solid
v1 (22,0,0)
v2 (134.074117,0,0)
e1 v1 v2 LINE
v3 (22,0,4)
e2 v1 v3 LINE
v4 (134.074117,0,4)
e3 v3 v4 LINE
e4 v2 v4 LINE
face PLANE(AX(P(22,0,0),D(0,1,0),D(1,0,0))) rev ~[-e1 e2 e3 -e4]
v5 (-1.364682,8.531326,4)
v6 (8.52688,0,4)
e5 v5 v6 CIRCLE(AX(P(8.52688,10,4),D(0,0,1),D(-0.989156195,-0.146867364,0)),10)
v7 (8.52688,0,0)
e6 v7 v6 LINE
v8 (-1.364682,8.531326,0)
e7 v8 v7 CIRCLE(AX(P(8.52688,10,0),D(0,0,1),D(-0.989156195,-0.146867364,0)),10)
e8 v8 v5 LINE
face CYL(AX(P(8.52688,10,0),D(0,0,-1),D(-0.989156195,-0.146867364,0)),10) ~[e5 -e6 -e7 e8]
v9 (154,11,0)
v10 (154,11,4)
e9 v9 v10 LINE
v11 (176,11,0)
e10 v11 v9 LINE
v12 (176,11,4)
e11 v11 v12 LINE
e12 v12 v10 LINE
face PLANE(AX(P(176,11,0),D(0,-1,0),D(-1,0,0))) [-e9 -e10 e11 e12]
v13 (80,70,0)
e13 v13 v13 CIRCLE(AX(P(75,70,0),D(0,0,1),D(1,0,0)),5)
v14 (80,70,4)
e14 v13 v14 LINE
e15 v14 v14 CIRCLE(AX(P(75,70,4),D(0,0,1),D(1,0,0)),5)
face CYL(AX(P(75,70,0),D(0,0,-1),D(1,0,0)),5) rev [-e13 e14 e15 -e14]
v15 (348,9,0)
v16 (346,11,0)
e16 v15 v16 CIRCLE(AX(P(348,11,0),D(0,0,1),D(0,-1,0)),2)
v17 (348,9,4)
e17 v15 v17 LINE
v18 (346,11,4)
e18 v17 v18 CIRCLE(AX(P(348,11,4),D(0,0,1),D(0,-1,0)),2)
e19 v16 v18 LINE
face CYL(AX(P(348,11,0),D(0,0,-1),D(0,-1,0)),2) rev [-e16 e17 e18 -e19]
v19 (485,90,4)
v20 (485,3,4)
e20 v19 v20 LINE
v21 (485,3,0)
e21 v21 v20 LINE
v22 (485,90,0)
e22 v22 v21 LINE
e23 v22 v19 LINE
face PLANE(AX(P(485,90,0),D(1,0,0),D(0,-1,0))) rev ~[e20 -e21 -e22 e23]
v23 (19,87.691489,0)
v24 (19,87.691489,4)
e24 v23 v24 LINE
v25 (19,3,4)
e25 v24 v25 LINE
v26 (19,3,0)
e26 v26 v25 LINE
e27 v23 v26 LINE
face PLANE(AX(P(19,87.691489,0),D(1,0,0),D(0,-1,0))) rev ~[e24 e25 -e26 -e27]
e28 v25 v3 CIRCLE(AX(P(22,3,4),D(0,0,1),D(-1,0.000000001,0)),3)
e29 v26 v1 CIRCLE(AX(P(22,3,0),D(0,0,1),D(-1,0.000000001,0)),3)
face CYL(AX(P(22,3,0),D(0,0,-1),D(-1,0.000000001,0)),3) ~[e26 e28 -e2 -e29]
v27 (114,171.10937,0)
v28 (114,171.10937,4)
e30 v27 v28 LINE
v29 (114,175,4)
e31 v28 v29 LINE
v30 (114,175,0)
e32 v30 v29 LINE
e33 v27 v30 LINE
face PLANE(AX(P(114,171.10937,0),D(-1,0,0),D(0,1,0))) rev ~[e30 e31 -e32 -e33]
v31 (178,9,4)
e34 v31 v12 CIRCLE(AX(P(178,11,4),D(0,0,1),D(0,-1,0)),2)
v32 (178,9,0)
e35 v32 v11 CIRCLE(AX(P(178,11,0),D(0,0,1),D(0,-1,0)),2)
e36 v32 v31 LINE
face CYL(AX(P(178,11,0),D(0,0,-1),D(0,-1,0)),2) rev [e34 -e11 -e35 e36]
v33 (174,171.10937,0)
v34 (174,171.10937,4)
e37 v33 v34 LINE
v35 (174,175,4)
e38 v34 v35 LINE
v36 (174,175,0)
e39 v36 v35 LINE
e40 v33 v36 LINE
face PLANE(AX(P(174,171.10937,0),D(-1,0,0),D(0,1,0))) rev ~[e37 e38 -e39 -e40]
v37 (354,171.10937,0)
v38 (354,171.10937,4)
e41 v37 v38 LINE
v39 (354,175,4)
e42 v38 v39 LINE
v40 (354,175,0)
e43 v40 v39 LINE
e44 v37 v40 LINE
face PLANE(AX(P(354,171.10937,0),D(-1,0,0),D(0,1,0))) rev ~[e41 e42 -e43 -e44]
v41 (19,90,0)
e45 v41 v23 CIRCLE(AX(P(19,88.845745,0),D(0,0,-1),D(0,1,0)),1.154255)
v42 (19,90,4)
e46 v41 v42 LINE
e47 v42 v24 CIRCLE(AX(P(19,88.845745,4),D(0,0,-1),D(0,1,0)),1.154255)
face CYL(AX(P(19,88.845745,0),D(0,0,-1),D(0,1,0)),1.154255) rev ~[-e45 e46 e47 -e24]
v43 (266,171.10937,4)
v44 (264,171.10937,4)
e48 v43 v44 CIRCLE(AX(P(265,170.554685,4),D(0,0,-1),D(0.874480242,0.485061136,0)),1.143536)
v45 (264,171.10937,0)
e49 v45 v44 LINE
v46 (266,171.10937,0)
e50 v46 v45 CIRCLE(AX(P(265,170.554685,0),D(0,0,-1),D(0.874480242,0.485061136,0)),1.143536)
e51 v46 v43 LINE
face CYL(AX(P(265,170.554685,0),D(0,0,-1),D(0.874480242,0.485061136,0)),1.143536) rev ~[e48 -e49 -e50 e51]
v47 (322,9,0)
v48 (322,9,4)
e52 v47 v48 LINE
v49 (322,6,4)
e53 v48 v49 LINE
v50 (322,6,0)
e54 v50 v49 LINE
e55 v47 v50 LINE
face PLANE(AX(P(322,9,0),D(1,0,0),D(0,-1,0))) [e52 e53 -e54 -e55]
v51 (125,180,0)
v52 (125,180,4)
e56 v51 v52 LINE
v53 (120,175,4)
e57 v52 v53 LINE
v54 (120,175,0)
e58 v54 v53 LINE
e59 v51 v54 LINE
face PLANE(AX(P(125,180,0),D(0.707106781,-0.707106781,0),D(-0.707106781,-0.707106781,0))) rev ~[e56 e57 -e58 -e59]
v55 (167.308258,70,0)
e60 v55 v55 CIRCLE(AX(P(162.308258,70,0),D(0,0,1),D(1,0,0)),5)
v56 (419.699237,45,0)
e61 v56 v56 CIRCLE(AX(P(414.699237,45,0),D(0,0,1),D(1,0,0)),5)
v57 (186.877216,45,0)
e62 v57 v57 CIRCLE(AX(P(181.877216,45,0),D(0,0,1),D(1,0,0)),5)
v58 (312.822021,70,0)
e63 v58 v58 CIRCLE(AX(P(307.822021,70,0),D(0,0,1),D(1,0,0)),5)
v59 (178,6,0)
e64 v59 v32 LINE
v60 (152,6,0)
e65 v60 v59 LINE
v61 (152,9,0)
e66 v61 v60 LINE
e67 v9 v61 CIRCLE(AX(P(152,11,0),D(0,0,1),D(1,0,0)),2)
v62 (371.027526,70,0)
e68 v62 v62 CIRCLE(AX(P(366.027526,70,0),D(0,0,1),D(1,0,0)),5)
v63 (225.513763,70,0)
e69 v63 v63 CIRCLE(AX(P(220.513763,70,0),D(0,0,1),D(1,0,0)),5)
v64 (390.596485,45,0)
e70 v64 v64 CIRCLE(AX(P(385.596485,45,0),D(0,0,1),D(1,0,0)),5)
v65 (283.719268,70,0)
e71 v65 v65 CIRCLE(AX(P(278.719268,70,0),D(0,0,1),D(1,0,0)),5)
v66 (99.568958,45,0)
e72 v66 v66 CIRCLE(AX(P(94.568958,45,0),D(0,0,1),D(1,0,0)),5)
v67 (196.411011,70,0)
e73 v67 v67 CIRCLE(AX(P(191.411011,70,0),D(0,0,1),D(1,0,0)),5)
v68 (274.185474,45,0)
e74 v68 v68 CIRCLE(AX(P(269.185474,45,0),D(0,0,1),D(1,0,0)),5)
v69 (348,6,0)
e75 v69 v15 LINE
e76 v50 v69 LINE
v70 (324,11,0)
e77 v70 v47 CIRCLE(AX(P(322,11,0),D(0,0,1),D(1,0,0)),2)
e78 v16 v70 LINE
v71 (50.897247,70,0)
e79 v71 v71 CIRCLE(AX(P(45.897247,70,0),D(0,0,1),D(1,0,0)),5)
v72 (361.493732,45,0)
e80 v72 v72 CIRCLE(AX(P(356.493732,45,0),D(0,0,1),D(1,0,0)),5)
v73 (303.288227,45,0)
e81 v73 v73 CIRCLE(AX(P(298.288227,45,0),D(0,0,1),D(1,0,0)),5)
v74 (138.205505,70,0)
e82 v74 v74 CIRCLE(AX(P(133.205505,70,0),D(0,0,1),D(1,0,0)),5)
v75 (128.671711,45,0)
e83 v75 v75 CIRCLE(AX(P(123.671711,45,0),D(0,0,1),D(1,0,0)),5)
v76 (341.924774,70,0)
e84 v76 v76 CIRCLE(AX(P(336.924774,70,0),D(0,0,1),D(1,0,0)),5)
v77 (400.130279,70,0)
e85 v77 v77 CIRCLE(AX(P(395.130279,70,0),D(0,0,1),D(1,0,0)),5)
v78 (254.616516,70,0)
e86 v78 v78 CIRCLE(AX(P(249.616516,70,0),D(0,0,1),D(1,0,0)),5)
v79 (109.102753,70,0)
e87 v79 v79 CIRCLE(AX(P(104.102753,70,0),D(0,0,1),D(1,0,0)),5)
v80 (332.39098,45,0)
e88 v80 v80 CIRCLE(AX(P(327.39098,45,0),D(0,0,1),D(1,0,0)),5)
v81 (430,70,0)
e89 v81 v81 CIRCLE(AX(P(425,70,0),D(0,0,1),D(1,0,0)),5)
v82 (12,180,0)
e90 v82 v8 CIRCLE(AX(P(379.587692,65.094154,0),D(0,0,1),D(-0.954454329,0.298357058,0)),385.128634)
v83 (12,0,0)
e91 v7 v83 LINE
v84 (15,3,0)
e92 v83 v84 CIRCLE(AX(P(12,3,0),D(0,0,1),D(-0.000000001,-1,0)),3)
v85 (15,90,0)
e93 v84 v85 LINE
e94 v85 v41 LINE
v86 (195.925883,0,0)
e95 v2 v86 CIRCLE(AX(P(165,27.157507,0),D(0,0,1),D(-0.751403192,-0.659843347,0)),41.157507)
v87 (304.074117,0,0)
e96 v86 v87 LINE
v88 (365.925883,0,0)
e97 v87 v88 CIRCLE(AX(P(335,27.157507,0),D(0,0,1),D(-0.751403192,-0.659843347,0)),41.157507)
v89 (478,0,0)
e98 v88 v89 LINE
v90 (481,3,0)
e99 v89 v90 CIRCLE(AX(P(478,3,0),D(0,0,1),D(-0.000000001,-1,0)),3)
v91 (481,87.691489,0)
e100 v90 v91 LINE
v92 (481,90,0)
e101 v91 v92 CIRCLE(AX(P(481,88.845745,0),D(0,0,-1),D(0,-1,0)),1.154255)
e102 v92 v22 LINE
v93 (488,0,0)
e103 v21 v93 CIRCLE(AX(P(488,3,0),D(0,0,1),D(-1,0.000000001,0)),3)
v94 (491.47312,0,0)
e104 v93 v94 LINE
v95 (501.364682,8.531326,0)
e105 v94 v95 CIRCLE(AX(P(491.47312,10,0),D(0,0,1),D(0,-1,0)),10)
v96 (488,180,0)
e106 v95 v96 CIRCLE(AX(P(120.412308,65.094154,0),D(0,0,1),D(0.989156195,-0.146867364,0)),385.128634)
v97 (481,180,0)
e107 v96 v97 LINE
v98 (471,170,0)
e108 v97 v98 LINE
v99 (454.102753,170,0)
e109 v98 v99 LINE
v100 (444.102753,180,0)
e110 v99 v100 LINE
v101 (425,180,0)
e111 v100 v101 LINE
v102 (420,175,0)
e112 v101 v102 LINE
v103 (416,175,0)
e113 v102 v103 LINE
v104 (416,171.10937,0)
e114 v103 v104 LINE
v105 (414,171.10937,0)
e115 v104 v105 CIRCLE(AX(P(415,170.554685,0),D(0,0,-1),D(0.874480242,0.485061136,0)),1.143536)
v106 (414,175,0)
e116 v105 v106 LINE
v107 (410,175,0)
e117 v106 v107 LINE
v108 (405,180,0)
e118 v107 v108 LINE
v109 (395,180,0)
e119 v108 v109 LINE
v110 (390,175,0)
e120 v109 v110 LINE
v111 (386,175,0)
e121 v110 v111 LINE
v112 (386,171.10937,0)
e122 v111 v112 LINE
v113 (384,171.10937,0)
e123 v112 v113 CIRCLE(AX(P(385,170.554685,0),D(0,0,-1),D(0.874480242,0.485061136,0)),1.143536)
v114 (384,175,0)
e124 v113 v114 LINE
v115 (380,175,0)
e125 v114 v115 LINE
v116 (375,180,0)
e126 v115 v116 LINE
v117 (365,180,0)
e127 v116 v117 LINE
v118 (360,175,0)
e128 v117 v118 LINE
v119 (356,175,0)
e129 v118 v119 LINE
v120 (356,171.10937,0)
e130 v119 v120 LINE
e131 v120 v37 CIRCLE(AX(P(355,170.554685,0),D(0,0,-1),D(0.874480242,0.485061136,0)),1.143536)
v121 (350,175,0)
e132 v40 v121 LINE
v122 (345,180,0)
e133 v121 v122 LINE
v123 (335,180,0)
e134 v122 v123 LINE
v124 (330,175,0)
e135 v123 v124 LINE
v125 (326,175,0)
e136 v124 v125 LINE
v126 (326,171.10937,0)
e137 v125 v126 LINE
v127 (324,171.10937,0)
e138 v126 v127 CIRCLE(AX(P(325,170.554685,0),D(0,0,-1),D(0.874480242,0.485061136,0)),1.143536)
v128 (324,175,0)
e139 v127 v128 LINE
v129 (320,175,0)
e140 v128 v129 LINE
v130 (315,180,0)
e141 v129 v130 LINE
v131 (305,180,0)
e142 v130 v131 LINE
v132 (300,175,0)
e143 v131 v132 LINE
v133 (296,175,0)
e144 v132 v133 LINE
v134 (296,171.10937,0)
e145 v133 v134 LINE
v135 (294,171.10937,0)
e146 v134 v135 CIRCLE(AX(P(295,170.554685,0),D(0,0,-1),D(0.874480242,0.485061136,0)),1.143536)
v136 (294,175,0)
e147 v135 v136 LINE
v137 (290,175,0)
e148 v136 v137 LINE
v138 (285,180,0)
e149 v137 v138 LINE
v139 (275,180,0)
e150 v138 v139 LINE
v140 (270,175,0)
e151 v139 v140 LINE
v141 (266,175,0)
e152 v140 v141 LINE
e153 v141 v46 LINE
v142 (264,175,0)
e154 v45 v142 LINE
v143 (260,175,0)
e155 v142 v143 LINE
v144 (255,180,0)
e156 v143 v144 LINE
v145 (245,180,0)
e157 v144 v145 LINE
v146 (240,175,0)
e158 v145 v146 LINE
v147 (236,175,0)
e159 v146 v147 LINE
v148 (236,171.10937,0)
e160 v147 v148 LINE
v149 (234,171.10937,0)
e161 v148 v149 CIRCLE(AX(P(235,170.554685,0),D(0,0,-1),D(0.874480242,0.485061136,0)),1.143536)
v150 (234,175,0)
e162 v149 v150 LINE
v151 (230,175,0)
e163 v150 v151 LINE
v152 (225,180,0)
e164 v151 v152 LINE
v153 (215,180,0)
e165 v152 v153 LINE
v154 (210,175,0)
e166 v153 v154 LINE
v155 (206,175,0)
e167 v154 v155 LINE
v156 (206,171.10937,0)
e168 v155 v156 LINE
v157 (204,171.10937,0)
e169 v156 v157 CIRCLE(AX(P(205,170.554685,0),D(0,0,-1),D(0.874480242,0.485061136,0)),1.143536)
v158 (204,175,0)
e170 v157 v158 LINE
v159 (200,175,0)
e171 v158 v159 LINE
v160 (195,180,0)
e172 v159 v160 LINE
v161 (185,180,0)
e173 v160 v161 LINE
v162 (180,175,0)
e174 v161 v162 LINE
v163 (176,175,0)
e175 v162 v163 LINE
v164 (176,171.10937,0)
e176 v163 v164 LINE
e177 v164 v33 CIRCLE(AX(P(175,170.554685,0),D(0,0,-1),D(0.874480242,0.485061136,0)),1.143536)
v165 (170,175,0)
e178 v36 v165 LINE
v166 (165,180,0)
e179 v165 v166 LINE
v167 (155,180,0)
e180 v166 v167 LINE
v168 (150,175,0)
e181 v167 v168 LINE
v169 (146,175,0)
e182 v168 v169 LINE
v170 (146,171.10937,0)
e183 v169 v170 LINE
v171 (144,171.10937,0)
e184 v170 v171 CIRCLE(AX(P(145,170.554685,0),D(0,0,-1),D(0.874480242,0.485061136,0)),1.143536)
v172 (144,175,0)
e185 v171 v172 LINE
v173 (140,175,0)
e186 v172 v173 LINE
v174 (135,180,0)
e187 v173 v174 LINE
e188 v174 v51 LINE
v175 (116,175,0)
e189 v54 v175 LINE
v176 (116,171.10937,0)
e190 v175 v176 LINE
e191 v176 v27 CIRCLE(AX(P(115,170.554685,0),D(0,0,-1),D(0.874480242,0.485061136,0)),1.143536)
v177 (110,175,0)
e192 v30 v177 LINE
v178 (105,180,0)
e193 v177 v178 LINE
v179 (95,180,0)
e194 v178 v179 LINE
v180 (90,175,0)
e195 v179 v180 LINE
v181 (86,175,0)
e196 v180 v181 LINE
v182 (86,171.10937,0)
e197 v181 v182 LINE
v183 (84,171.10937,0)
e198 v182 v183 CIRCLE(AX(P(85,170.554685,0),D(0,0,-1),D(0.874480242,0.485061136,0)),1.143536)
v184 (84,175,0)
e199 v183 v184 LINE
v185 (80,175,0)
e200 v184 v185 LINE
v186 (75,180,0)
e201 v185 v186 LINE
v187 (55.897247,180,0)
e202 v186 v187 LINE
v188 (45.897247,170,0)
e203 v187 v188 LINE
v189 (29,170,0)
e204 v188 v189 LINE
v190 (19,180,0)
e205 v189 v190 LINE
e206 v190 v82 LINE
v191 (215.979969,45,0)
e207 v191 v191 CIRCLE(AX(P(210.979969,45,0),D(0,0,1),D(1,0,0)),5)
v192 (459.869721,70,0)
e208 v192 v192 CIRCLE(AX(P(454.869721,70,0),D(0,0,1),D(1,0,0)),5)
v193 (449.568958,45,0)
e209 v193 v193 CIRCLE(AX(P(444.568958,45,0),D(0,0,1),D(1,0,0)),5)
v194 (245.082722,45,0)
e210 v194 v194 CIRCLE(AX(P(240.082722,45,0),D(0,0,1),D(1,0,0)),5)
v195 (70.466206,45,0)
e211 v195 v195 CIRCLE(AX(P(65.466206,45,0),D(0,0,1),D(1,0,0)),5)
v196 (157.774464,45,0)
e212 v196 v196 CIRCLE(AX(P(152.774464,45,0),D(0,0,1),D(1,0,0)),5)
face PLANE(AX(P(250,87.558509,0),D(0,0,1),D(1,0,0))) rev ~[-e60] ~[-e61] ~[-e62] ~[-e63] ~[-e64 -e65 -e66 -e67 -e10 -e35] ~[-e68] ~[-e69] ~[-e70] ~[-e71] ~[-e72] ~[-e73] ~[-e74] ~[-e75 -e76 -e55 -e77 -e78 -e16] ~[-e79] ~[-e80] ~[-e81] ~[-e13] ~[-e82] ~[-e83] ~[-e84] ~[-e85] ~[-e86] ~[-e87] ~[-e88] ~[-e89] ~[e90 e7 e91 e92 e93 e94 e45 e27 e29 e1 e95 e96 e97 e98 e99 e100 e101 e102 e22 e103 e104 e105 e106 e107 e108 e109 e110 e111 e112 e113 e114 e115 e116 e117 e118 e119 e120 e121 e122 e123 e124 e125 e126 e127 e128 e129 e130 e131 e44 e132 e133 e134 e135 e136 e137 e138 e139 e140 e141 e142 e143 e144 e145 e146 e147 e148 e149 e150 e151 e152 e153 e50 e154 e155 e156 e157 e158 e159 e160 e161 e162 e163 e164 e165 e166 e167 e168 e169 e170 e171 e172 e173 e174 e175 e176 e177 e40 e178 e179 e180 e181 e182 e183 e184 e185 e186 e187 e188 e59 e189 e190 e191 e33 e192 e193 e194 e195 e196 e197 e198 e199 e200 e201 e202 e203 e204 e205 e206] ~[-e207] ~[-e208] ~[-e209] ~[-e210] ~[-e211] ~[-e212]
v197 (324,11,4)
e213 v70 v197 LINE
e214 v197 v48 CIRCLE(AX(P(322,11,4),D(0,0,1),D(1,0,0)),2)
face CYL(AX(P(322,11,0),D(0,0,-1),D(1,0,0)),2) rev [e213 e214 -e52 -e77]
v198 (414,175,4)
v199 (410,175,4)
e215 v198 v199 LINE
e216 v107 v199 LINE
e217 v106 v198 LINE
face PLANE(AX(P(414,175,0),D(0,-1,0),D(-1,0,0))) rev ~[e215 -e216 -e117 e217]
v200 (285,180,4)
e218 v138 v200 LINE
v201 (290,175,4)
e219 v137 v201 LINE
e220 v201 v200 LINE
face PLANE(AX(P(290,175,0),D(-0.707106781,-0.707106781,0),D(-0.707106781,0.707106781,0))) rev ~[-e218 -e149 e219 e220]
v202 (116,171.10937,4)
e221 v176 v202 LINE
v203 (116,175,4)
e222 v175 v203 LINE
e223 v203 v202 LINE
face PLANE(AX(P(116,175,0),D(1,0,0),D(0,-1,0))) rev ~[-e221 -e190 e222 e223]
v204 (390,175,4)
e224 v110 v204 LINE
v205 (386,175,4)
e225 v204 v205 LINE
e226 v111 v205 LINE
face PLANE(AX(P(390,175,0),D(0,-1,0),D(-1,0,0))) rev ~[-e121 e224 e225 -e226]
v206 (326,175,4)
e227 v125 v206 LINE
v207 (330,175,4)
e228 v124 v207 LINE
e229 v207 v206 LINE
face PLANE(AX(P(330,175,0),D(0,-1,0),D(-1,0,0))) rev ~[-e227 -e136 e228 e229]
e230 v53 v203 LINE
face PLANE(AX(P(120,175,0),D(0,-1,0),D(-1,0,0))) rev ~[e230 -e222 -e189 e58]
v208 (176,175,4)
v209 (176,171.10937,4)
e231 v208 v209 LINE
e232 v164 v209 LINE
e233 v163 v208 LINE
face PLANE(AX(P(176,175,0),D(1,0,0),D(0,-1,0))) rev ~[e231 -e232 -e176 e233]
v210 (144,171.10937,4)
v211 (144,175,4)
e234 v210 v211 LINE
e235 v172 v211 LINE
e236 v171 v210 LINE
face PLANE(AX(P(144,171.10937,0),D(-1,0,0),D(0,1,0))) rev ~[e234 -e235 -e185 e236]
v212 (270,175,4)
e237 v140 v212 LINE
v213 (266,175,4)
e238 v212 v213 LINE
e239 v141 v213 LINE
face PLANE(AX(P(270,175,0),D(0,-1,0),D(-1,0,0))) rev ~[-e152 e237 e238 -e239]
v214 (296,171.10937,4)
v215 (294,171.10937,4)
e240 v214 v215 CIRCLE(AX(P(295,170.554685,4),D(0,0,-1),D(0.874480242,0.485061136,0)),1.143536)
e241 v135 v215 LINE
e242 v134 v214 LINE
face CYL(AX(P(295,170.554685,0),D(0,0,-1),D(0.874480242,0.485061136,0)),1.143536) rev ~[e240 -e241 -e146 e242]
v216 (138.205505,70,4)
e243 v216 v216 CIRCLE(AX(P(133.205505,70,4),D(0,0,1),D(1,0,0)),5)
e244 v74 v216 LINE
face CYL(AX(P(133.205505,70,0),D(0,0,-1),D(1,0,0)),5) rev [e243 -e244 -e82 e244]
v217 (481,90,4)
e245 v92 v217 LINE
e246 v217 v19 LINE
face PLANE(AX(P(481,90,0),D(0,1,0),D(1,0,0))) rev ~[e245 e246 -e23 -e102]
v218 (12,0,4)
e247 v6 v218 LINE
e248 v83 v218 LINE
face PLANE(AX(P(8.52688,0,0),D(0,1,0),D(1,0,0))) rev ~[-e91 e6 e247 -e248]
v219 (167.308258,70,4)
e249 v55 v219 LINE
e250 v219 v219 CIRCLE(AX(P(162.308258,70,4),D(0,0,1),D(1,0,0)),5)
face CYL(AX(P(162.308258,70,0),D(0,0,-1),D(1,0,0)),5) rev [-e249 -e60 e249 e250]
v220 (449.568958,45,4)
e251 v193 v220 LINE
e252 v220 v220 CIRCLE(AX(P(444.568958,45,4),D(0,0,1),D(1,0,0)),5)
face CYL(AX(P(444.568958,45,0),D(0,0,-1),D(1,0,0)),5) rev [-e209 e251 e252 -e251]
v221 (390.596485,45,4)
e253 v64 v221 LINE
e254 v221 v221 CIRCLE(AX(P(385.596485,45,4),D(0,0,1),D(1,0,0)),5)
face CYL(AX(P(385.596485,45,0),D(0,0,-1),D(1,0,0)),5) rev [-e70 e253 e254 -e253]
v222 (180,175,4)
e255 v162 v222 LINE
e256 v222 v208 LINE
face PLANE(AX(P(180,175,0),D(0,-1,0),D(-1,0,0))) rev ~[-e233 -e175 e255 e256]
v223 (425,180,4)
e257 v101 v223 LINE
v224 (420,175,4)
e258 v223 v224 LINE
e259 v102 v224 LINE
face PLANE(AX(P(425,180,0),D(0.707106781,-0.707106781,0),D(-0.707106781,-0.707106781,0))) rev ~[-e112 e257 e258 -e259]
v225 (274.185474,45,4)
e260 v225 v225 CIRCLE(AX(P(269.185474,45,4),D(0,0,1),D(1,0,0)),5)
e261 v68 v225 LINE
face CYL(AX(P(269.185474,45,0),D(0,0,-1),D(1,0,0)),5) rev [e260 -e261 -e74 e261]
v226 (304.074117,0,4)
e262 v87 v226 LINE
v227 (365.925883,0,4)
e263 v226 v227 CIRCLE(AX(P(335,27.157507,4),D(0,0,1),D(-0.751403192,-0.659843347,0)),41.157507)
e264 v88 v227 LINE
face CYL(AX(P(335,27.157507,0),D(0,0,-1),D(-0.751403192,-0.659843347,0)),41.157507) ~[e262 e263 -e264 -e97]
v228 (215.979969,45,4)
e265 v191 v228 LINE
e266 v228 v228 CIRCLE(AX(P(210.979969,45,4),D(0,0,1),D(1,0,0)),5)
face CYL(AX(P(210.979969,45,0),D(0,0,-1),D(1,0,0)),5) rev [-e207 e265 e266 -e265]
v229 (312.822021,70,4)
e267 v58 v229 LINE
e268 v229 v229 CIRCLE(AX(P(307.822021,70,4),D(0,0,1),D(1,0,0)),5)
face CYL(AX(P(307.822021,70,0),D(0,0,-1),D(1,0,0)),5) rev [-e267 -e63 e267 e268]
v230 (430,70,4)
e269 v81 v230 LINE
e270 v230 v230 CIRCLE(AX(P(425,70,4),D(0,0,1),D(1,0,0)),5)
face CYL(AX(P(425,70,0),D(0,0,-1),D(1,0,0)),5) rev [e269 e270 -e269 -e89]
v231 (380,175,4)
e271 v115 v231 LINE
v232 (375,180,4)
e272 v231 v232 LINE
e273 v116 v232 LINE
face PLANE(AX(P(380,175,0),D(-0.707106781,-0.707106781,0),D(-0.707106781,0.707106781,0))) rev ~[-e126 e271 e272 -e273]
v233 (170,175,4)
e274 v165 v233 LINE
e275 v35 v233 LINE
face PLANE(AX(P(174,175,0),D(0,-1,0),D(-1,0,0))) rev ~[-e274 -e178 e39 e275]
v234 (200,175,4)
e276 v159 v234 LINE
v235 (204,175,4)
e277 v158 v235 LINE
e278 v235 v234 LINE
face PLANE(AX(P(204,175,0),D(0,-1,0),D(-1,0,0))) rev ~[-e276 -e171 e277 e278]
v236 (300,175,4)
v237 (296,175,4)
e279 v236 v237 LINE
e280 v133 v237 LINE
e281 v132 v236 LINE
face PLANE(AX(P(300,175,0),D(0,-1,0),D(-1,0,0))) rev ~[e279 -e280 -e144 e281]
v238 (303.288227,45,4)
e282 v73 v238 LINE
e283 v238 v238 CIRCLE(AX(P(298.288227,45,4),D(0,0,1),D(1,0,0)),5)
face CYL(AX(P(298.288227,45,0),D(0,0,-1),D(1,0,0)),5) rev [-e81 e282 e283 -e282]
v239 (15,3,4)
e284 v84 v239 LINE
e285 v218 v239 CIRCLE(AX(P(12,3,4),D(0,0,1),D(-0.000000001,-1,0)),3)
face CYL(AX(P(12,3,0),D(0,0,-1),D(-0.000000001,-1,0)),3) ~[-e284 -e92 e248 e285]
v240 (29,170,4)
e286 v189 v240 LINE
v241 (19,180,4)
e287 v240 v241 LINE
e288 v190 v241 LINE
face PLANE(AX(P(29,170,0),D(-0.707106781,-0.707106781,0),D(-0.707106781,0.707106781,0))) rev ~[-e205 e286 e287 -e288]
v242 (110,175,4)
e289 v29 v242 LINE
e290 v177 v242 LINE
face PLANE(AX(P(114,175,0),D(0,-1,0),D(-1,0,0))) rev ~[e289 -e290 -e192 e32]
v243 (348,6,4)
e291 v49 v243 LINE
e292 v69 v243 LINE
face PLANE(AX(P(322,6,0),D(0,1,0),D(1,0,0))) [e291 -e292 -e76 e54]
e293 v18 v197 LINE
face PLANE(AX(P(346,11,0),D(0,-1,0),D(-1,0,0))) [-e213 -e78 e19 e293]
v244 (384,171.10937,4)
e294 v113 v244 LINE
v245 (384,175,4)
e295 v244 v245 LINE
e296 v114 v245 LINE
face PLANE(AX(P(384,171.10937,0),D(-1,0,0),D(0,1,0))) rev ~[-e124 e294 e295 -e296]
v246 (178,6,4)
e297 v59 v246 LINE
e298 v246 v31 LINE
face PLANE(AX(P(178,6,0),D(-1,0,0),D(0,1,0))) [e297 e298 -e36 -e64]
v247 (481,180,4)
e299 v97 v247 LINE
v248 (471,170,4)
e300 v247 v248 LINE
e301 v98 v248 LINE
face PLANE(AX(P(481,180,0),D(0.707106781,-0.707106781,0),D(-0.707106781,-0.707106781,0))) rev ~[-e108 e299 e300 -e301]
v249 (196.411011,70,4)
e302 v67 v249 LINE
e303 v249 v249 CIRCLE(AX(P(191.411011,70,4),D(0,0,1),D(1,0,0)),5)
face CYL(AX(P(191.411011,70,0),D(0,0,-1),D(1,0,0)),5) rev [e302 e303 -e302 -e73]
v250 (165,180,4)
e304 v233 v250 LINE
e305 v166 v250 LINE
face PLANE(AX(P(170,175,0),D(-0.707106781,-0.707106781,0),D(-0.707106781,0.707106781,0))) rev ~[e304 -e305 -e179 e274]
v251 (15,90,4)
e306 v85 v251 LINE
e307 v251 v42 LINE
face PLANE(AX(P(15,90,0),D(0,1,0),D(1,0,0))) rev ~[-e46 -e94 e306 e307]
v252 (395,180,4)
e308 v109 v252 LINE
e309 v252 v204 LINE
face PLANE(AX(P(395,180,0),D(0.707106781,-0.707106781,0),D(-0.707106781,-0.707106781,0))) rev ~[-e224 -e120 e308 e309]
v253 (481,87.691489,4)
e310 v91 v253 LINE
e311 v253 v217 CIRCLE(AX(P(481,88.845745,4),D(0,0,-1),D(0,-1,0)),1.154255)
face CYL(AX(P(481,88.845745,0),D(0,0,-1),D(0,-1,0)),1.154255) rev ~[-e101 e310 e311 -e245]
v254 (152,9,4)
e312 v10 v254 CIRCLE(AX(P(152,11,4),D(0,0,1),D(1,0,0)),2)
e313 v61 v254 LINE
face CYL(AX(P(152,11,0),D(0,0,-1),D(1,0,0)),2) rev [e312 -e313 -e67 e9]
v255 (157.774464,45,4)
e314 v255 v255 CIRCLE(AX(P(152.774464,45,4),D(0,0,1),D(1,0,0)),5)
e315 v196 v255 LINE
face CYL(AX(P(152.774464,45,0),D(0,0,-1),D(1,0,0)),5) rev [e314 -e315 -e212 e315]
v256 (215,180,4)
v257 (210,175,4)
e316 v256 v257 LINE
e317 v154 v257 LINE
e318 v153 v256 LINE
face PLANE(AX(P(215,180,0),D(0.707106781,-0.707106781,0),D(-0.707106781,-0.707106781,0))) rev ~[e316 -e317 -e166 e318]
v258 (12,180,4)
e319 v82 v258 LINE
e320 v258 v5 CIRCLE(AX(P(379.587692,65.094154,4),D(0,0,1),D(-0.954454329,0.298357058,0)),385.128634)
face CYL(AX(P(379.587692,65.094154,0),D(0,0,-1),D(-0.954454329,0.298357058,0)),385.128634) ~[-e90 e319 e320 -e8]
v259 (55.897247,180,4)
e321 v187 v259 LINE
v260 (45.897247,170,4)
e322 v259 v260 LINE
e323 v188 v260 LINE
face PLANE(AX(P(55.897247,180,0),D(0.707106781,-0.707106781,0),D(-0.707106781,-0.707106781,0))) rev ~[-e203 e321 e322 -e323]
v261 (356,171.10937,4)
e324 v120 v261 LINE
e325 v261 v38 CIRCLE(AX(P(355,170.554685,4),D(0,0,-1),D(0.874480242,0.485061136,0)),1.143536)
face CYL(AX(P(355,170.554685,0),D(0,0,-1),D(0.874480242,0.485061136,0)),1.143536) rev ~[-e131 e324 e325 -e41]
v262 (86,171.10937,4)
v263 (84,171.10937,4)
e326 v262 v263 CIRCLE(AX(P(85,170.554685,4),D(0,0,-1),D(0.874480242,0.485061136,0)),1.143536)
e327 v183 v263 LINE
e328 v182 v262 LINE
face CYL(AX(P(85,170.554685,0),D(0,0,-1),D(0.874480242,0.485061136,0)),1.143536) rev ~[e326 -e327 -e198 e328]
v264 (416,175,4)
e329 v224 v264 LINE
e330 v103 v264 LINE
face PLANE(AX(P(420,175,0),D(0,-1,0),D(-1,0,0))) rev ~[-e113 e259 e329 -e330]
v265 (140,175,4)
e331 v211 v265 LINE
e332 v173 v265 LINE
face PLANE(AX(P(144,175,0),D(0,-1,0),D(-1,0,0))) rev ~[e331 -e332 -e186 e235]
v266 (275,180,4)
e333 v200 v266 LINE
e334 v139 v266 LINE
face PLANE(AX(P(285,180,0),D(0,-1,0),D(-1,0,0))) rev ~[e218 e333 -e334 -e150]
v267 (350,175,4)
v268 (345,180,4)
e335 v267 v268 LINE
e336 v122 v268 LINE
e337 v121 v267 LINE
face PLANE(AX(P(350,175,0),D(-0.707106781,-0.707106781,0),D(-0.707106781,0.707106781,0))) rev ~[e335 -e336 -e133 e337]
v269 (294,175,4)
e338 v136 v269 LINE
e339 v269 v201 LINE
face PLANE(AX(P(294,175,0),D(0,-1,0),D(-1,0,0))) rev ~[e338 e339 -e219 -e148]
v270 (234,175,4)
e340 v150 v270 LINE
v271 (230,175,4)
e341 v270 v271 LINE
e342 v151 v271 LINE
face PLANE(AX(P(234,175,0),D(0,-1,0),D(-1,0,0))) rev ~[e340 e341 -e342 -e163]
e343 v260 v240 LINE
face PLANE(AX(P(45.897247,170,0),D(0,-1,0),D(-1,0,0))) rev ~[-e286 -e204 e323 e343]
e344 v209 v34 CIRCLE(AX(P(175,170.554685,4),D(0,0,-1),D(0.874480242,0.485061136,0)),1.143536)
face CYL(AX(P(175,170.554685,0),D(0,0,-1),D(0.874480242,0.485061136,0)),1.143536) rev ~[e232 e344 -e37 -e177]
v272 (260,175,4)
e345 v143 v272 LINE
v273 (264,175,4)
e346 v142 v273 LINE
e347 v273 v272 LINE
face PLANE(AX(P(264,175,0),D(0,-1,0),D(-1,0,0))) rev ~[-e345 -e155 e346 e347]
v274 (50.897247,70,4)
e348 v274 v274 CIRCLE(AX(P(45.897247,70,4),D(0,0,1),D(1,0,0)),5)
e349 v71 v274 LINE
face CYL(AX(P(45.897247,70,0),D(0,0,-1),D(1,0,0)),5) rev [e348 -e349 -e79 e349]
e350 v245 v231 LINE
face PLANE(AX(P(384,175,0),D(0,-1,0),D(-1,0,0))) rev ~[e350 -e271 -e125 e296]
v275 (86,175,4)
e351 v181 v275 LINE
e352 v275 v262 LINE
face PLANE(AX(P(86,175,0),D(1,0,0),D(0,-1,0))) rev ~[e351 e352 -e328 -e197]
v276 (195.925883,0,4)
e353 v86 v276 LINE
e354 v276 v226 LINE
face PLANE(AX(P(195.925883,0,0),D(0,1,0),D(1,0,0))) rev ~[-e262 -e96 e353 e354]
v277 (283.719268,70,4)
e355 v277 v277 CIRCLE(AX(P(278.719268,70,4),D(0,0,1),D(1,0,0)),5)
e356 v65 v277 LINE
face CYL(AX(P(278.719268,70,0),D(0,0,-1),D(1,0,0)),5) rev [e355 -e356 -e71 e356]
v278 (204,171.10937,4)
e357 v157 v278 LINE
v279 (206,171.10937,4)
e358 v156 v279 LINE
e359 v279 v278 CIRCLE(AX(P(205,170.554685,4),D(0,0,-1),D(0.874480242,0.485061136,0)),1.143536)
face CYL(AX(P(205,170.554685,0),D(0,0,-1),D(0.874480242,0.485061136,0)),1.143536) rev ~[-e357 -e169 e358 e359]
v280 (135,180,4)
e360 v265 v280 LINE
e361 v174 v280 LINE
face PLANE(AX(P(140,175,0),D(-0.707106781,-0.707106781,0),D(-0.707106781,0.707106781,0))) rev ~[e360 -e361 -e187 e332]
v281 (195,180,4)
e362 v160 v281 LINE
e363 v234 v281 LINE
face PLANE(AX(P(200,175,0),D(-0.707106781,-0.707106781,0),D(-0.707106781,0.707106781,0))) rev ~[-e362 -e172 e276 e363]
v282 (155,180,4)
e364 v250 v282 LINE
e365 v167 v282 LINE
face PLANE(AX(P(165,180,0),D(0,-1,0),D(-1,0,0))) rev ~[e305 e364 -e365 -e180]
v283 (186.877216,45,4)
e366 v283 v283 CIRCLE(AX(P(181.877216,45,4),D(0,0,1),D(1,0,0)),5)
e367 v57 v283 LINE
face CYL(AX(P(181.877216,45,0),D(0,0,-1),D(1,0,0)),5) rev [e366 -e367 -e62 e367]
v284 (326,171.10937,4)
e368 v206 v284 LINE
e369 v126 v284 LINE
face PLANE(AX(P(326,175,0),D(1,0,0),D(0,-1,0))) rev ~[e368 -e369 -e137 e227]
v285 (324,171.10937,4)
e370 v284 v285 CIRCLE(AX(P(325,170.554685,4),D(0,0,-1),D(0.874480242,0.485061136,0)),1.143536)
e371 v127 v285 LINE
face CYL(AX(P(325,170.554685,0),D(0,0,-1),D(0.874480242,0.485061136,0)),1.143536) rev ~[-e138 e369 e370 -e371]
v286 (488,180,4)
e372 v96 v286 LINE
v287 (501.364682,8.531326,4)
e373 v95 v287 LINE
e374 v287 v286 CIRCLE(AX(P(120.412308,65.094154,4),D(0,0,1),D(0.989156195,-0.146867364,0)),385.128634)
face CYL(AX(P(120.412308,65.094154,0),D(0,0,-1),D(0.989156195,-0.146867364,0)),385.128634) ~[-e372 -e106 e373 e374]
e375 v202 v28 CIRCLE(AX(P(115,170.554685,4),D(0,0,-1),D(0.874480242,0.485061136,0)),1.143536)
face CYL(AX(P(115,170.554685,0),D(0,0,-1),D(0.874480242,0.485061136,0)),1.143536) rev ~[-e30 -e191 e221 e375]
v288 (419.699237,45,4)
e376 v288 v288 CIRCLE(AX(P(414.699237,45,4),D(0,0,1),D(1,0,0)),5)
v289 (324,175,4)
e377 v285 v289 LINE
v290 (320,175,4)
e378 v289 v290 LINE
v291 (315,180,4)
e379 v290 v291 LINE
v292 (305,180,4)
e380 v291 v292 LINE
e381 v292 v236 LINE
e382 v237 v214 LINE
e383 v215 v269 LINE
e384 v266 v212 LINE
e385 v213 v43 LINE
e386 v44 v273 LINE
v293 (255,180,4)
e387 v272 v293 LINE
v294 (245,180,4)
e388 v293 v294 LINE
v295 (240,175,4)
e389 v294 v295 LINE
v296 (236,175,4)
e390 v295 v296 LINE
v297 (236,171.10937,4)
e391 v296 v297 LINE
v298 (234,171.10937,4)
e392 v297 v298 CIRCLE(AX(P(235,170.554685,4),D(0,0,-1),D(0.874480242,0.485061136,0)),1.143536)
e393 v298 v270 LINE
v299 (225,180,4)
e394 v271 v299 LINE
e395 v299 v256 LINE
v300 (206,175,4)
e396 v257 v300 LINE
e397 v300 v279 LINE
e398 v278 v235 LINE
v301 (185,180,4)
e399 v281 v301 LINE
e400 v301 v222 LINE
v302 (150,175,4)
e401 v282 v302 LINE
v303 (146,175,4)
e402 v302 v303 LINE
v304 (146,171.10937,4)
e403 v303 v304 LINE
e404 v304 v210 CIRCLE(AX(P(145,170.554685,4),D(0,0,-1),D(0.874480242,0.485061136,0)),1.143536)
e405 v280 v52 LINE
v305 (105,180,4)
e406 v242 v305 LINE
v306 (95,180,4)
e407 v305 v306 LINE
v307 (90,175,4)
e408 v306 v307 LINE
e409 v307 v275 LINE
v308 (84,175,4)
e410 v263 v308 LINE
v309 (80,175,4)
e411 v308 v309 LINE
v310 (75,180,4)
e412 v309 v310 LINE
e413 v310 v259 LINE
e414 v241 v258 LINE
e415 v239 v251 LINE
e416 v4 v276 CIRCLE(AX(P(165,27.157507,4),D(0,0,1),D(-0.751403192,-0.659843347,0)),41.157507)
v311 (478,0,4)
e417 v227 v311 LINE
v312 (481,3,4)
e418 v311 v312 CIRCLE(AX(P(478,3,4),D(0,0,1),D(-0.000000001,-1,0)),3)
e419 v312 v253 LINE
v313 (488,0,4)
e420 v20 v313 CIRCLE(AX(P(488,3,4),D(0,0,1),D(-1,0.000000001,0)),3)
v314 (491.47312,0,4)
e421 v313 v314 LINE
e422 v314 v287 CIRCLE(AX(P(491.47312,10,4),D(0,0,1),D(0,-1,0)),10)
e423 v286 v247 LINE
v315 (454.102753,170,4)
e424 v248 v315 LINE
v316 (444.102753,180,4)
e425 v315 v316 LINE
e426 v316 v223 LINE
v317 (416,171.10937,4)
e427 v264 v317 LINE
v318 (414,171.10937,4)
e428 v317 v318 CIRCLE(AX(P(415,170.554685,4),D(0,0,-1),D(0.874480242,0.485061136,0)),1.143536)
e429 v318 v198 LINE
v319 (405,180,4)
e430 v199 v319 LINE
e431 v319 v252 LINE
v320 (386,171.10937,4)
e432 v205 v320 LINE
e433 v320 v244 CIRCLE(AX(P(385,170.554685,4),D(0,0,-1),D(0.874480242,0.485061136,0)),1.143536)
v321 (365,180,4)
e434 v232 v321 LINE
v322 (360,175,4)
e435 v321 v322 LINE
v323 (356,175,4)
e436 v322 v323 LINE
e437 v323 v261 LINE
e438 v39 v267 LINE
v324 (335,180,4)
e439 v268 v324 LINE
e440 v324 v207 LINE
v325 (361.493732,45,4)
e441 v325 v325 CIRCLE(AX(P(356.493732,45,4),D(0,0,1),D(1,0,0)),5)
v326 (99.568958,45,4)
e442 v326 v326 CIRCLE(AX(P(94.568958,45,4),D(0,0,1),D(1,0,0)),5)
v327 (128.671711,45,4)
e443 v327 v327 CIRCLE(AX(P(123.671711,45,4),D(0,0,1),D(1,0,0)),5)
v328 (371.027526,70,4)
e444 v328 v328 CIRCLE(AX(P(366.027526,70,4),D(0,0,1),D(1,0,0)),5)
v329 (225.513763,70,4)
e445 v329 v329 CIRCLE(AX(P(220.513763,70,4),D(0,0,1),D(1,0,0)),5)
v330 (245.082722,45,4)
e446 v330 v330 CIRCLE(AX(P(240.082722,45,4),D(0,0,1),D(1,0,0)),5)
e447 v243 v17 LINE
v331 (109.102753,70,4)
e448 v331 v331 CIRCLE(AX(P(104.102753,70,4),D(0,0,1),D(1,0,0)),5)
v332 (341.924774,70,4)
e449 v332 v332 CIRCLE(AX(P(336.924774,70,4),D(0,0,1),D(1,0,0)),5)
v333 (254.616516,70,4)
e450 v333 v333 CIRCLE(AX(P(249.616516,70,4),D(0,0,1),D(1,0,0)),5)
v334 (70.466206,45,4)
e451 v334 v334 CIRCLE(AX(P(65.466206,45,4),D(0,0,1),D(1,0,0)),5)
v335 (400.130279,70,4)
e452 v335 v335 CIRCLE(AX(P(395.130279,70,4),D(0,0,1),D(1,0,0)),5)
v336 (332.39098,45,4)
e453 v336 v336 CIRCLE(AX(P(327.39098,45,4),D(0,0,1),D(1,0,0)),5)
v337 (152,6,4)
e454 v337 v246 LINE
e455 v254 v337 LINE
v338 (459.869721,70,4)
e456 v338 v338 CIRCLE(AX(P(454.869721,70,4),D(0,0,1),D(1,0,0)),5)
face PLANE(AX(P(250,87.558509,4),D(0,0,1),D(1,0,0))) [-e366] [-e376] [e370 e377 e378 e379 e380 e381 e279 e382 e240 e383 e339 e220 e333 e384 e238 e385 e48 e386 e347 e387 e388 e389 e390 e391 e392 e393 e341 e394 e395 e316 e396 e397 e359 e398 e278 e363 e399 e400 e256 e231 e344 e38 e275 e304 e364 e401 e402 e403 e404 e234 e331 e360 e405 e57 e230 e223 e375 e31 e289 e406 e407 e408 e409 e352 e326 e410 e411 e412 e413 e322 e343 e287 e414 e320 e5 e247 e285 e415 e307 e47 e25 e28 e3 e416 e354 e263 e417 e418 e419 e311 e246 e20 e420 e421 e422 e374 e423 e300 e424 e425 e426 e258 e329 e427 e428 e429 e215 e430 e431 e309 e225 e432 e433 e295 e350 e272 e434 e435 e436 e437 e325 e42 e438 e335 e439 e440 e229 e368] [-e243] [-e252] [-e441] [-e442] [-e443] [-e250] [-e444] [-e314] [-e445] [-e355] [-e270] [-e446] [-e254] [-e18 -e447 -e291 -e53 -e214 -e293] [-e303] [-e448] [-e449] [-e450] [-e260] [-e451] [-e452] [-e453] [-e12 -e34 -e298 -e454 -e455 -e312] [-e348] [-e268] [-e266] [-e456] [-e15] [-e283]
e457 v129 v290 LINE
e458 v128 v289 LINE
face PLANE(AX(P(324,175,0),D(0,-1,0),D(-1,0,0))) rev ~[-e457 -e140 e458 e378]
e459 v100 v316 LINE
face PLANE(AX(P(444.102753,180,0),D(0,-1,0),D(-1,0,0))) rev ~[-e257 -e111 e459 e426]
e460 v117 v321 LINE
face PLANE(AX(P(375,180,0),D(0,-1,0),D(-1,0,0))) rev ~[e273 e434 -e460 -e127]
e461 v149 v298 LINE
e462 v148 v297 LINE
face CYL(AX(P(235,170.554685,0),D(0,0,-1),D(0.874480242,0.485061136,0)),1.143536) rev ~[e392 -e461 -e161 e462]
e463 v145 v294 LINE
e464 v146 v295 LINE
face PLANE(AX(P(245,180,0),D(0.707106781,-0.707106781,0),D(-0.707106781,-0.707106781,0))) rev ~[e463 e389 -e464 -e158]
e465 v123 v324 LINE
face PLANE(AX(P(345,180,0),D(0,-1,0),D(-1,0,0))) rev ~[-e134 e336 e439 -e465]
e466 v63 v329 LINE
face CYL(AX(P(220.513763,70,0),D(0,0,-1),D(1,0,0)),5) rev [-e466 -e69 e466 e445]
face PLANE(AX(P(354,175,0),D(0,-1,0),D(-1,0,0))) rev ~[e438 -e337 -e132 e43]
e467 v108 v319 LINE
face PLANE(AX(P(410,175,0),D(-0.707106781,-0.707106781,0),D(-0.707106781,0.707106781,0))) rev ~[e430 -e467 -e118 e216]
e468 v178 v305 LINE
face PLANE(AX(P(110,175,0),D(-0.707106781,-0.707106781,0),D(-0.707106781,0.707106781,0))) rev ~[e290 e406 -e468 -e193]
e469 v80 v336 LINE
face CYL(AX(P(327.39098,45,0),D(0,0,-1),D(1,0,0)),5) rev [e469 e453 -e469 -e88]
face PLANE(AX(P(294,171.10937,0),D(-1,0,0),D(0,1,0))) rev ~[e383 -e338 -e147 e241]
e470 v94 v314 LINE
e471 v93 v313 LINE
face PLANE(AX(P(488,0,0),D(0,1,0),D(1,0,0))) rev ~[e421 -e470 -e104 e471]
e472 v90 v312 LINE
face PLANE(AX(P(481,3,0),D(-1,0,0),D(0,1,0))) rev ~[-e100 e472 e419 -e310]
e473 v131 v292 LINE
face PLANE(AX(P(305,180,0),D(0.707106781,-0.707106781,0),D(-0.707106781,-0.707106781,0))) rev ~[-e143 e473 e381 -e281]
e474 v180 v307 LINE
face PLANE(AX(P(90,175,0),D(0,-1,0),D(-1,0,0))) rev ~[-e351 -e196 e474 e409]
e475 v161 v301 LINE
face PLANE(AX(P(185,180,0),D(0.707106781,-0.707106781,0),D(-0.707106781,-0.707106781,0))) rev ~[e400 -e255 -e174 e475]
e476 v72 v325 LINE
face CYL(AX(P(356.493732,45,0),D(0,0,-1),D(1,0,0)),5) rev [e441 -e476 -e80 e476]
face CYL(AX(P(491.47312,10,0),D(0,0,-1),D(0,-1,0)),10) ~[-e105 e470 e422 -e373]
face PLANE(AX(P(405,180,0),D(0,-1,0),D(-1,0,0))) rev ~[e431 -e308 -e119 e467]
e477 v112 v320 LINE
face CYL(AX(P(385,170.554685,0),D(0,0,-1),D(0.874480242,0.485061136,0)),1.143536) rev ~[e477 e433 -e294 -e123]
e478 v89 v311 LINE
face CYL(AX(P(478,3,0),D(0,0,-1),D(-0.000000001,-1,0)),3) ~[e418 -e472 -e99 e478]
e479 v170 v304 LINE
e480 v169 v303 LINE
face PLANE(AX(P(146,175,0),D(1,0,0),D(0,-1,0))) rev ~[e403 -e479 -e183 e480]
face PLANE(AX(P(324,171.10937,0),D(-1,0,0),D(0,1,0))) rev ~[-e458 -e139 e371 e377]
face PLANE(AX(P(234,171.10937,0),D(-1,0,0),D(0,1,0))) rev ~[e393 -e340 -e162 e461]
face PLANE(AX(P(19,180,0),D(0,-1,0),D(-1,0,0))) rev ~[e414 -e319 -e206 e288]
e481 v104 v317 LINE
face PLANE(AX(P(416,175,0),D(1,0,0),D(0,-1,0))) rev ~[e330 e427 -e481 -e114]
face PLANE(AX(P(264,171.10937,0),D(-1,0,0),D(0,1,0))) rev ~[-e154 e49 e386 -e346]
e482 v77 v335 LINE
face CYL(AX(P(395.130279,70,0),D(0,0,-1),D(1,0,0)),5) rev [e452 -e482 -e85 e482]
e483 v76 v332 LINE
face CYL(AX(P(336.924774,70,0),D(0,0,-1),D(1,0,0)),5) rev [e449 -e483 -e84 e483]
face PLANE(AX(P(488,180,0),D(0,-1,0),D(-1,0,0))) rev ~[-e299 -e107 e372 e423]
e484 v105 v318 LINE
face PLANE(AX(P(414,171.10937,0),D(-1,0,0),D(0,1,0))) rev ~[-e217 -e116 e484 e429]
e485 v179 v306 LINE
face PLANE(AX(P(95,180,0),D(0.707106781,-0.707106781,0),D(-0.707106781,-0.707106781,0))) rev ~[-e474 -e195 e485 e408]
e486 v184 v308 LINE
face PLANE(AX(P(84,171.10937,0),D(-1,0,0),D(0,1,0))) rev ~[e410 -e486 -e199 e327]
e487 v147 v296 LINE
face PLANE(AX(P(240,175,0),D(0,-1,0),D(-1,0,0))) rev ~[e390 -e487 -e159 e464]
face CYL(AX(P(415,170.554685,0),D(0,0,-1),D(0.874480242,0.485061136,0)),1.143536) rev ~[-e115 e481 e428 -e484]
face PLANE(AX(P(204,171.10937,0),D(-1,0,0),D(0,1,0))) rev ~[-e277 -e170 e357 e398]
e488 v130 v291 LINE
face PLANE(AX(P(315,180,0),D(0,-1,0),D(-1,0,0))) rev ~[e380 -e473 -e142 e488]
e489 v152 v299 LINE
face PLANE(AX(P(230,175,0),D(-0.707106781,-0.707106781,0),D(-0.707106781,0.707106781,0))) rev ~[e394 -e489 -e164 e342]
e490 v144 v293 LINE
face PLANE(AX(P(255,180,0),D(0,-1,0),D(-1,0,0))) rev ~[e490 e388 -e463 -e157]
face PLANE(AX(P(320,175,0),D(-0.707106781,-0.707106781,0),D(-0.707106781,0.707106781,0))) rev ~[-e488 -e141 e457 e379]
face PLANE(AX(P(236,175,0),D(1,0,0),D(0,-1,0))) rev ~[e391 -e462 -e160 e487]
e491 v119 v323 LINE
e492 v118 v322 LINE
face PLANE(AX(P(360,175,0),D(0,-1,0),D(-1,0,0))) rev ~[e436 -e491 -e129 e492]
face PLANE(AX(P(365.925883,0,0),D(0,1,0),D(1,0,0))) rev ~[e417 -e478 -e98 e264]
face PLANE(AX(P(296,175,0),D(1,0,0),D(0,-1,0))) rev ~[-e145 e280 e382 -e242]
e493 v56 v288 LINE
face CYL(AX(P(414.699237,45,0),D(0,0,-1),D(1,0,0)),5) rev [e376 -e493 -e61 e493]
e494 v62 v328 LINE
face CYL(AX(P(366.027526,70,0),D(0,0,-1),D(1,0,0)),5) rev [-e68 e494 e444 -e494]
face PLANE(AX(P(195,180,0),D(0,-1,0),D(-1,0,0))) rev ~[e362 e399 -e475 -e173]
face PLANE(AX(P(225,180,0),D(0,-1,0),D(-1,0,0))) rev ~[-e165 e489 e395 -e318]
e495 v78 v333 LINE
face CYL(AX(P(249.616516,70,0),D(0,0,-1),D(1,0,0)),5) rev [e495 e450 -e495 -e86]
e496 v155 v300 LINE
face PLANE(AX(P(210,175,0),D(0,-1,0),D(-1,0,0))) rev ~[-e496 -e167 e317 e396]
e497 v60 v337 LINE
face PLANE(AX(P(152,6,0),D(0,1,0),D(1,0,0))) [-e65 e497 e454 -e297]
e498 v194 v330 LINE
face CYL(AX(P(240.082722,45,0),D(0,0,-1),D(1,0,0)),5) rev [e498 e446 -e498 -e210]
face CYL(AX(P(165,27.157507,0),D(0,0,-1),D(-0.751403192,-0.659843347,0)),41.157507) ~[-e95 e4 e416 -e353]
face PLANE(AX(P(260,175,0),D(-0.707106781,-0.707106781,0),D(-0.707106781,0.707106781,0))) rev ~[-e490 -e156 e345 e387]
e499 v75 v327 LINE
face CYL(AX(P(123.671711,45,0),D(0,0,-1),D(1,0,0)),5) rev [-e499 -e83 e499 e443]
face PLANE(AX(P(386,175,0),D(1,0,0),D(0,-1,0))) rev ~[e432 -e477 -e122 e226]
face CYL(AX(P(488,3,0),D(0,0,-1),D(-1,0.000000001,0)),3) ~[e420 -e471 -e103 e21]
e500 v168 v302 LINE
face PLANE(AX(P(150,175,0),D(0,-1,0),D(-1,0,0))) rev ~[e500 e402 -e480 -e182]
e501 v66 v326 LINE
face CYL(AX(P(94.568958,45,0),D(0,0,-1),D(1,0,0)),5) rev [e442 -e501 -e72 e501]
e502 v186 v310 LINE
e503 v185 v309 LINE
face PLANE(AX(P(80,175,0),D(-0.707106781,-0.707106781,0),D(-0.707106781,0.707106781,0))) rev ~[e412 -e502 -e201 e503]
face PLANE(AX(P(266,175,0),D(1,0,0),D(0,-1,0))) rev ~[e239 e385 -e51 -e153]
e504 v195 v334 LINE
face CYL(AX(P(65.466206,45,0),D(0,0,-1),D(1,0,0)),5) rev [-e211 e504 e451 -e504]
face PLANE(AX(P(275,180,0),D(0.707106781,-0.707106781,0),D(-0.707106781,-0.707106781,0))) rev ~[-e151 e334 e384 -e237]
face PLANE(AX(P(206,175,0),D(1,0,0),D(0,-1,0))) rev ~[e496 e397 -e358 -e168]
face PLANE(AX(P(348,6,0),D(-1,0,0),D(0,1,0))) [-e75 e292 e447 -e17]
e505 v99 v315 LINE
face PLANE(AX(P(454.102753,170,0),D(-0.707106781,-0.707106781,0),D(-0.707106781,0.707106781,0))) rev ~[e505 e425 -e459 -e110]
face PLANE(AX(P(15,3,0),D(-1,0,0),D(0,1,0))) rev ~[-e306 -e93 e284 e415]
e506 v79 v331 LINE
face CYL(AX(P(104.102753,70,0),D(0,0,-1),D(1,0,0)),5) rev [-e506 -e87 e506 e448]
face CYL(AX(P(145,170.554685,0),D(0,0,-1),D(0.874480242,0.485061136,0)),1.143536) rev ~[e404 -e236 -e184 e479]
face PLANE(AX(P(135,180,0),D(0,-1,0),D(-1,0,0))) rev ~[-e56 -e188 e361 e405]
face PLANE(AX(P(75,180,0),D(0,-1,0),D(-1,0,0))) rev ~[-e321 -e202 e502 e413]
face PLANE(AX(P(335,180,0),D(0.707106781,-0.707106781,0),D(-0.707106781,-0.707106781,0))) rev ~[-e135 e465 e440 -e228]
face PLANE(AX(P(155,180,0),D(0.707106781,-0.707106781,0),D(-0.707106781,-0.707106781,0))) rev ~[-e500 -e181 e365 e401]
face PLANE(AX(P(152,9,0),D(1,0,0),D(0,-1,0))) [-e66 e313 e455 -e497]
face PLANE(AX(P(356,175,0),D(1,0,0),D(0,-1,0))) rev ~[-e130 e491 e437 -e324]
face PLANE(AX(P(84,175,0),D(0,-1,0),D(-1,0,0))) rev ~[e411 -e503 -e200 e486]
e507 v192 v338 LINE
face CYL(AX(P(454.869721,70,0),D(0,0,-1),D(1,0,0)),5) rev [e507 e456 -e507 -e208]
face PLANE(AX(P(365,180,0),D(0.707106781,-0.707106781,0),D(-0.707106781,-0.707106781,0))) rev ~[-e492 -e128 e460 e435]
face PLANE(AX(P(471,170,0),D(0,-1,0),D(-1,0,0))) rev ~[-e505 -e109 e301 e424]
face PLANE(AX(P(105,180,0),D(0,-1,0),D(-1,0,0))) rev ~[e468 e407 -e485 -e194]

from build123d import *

# Parameters (mm, degrees)
SKETCH_1_R      = 5
EXTRUDE_1_DEPTH = 4


with BuildPart() as part:
    # Эскиз1 → Бобышка-Вытянуть1 (new body)
    with BuildSketch(Plane.XY):
        with BuildLine():
            Line((8.526879851, 0), (12, 0))
            ThreePointArc((12, 0), (14.121320344, 0.878679656), (15, 3))
            Line((15, 3), (15, 90))
            Line((15, 90), (19, 90))
            ThreePointArc((19, 90), (20.154255418, 88.845744582), (19, 87.691489165))
            Line((19, 87.691489165), (19, 3))
            ThreePointArc((19, 3), (19.878679656, 0.878679656), (22, 0))
            Line((22, 0), (134.07411748, 0))
            ThreePointArc((134.07411748, 0), (165, -14), (195.92588252, 0))
            Line((195.92588252, 0), (304.07411748, 0))
            ThreePointArc((304.07411748, 0), (335, -14), (365.92588252, 0))
            Line((365.92588252, 0), (478, 0))
            ThreePointArc((478, 0), (480.121320344, 0.878679656), (481, 3))
            Line((481, 3), (481, 87.691489165))
            ThreePointArc((481, 87.691489165), (479.845744582, 88.845744582), (481, 90))
            Line((481, 90), (485, 90))
            Line((485, 90), (485, 3))
            ThreePointArc((485, 3), (485.878679656, 0.878679656), (488, 0))
            Line((488, 0), (491.473120149, 0))
            ThreePointArc((491.473120149, 0), (498.004324615, 2.427459592), (501.364682095, 8.531326355))
            ThreePointArc((501.364682095, 8.531326355), (504.376413281, 95.021242555), (488, 180))
            Line((488, 180), (481, 180))
            Line((481, 180), (471, 170))
            Line((471, 170), (454.102752641, 170))
            Line((454.102752641, 170), (444.102752641, 180))
            Line((444.102752641, 180), (425, 180))
            Line((425, 180), (420, 175))
            Line((420, 175), (416, 175))
            Line((416, 175), (416, 171.109370144))
            ThreePointArc((416, 171.109370144), (415, 169.411148659), (414, 171.109370144))
            Line((414, 171.109370144), (414, 175))
            Line((414, 175), (410, 175))
            Line((410, 175), (405, 180))
            Line((405, 180), (395, 180))
            Line((395, 180), (390, 175))
            Line((390, 175), (386, 175))
            Line((386, 175), (386, 171.109370144))
            ThreePointArc((386, 171.109370144), (385, 169.411148659), (384, 171.109370144))
            Line((384, 171.109370144), (384, 175))
            Line((384, 175), (380, 175))
            Line((380, 175), (375, 180))
            Line((375, 180), (365, 180))
            Line((365, 180), (360, 175))
            Line((360, 175), (356, 175))
            Line((356, 175), (356, 171.109370144))
            ThreePointArc((356, 171.109370144), (355, 169.411148659), (354, 171.109370144))
            Line((354, 171.109370144), (354, 175))
            Line((354, 175), (350, 175))
            Line((350, 175), (345, 180))
            Line((345, 180), (335, 180))
            Line((335, 180), (330, 175))
            Line((330, 175), (326, 175))
            Line((326, 175), (326, 171.109370144))
            ThreePointArc((326, 171.109370144), (325, 169.411148659), (324, 171.109370144))
            Line((324, 171.109370144), (324, 175))
            Line((324, 175), (320, 175))
            Line((320, 175), (315, 180))
            Line((315, 180), (305, 180))
            Line((305, 180), (300, 175))
            Line((300, 175), (296, 175))
            Line((296, 175), (296, 171.109370144))
            ThreePointArc((296, 171.109370144), (295, 169.411148659), (294, 171.109370144))
            Line((294, 171.109370144), (294, 175))
            Line((294, 175), (290, 175))
            Line((290, 175), (285, 180))
            Line((285, 180), (275, 180))
            Line((275, 180), (270, 175))
            Line((270, 175), (266, 175))
            Line((266, 175), (266, 171.109370144))
            ThreePointArc((266, 171.109370144), (265, 169.411148659), (264, 171.109370144))
            Line((264, 171.109370144), (264, 175))
            Line((264, 175), (260, 175))
            Line((260, 175), (255, 180))
            Line((255, 180), (245, 180))
            Line((245, 180), (240, 175))
            Line((240, 175), (236, 175))
            Line((236, 175), (236, 171.109370144))
            ThreePointArc((236, 171.109370144), (235, 169.411148659), (234, 171.109370144))
            Line((234, 171.109370144), (234, 175))
            Line((234, 175), (230, 175))
            Line((230, 175), (225, 180))
            Line((225, 180), (215, 180))
            Line((215, 180), (210, 175))
            Line((210, 175), (206, 175))
            Line((206, 175), (206, 171.109370144))
            ThreePointArc((206, 171.109370144), (205, 169.411148659), (204, 171.109370144))
            Line((204, 171.109370144), (204, 175))
            Line((204, 175), (200, 175))
            Line((200, 175), (195, 180))
            Line((195, 180), (185, 180))
            Line((185, 180), (180, 175))
            Line((180, 175), (176, 175))
            Line((176, 175), (176, 171.109370144))
            ThreePointArc((176, 171.109370144), (175, 169.411148659), (174, 171.109370144))
            Line((174, 171.109370144), (174, 175))
            Line((174, 175), (170, 175))
            Line((170, 175), (165, 180))
            Line((165, 180), (155, 180))
            Line((155, 180), (150, 175))
            Line((150, 175), (146, 175))
            Line((146, 175), (146, 171.109370144))
            ThreePointArc((146, 171.109370144), (145, 169.411148659), (144, 171.109370144))
            Line((144, 171.109370144), (144, 175))
            Line((144, 175), (140, 175))
            Line((140, 175), (135, 180))
            Line((135, 180), (125, 180))
            Line((125, 180), (120, 175))
            Line((120, 175), (116, 175))
            Line((116, 175), (116, 171.109370144))
            ThreePointArc((116, 171.109370144), (115, 169.411148659), (114, 171.109370144))
            Line((114, 171.109370144), (114, 175))
            Line((114, 175), (110, 175))
            Line((110, 175), (105, 180))
            Line((105, 180), (95, 180))
            Line((95, 180), (90, 175))
            Line((90, 175), (86, 175))
            Line((86, 175), (86, 171.109370144))
            ThreePointArc((86, 171.109370144), (85, 169.411148659), (84, 171.109370144))
            Line((84, 171.109370144), (84, 175))
            Line((84, 175), (80, 175))
            Line((80, 175), (75, 180))
            Line((75, 180), (55.897247359, 180))
            Line((55.897247359, 180), (45.897247359, 170))
            Line((45.897247359, 170), (29, 170))
            Line((29, 170), (19, 180))
            Line((19, 180), (12, 180))
            ThreePointArc((12, 180), (-4.376413281, 95.021242555), (-1.364682095, 8.531326355))
            ThreePointArc((-1.364682095, 8.531326355), (1.995675385, 2.427459592), (8.526879851, 0))
        make_face()
        with Locations((45.897247359, 70)):
            Circle(SKETCH_1_R, mode=Mode.SUBTRACT)
        with Locations((65.46620575, 45)):
            Circle(SKETCH_1_R, mode=Mode.SUBTRACT)
        with Locations((75, 70)):
            Circle(SKETCH_1_R, mode=Mode.SUBTRACT)
        with Locations((94.568958391, 45)):
            Circle(SKETCH_1_R, mode=Mode.SUBTRACT)
        with Locations((104.102752641, 70)):
            Circle(SKETCH_1_R, mode=Mode.SUBTRACT)
        with Locations((123.671711032, 45)):
            Circle(SKETCH_1_R, mode=Mode.SUBTRACT)
        with Locations((133.205505282, 70)):
            Circle(SKETCH_1_R, mode=Mode.SUBTRACT)
        with Locations((152.774463674, 45)):
            Circle(SKETCH_1_R, mode=Mode.SUBTRACT)
        with Locations((162.308257923, 70)):
            Circle(SKETCH_1_R, mode=Mode.SUBTRACT)
        with Locations((181.877216315, 45)):
            Circle(SKETCH_1_R, mode=Mode.SUBTRACT)
        with Locations((191.411010565, 70)):
            Circle(SKETCH_1_R, mode=Mode.SUBTRACT)
        with Locations((210.979968956, 45)):
            Circle(SKETCH_1_R, mode=Mode.SUBTRACT)
        with Locations((220.513763206, 70)):
            Circle(SKETCH_1_R, mode=Mode.SUBTRACT)
        with Locations((240.082721597, 45)):
            Circle(SKETCH_1_R, mode=Mode.SUBTRACT)
        with Locations((249.616515847, 70)):
            Circle(SKETCH_1_R, mode=Mode.SUBTRACT)
        with Locations((269.185474238, 45)):
            Circle(SKETCH_1_R, mode=Mode.SUBTRACT)
        with Locations((278.719268488, 70)):
            Circle(SKETCH_1_R, mode=Mode.SUBTRACT)
        with Locations((298.288226879, 45)):
            Circle(SKETCH_1_R, mode=Mode.SUBTRACT)
        with Locations((307.822021129, 70)):
            Circle(SKETCH_1_R, mode=Mode.SUBTRACT)
        with Locations((327.39097952, 45)):
            Circle(SKETCH_1_R, mode=Mode.SUBTRACT)
        with Locations((336.92477377, 70)):
            Circle(SKETCH_1_R, mode=Mode.SUBTRACT)
        with Locations((356.493732162, 45)):
            Circle(SKETCH_1_R, mode=Mode.SUBTRACT)
        with Locations((366.027526411, 70)):
            Circle(SKETCH_1_R, mode=Mode.SUBTRACT)
        with Locations((385.596484803, 45)):
            Circle(SKETCH_1_R, mode=Mode.SUBTRACT)
        with Locations((395.130279053, 70)):
            Circle(SKETCH_1_R, mode=Mode.SUBTRACT)
        with Locations((414.699237444, 45)):
            Circle(SKETCH_1_R, mode=Mode.SUBTRACT)
        with Locations((425, 70)):
            Circle(SKETCH_1_R, mode=Mode.SUBTRACT)
        with Locations((444.568958391, 45)):
            Circle(SKETCH_1_R, mode=Mode.SUBTRACT)
        with Locations((454.869720947, 70)):
            Circle(SKETCH_1_R, mode=Mode.SUBTRACT)
        with BuildLine():
            Line((152, 6), (178, 6))
            Line((178, 6), (178, 9))
            ThreePointArc((178, 9), (179.414213562, 12.414213562), (176, 11))
            Line((176, 11), (154, 11))
            ThreePointArc((154, 11), (150.585786438, 12.414213562), (152, 9))
            Line((152, 9), (152, 6))
        make_face(mode=Mode.SUBTRACT)
        with BuildLine():
            Line((322, 6), (348, 6))
            Line((348, 6), (348, 9))
            ThreePointArc((348, 9), (349.414213562, 12.414213562), (346, 11))
            Line((346, 11), (324, 11))
            ThreePointArc((324, 11), (320.585786438, 12.414213562), (322, 9))
            Line((322, 9), (322, 6))
        make_face(mode=Mode.SUBTRACT)
    extrude(amount=EXTRUDE_1_DEPTH)


solid = part.part
